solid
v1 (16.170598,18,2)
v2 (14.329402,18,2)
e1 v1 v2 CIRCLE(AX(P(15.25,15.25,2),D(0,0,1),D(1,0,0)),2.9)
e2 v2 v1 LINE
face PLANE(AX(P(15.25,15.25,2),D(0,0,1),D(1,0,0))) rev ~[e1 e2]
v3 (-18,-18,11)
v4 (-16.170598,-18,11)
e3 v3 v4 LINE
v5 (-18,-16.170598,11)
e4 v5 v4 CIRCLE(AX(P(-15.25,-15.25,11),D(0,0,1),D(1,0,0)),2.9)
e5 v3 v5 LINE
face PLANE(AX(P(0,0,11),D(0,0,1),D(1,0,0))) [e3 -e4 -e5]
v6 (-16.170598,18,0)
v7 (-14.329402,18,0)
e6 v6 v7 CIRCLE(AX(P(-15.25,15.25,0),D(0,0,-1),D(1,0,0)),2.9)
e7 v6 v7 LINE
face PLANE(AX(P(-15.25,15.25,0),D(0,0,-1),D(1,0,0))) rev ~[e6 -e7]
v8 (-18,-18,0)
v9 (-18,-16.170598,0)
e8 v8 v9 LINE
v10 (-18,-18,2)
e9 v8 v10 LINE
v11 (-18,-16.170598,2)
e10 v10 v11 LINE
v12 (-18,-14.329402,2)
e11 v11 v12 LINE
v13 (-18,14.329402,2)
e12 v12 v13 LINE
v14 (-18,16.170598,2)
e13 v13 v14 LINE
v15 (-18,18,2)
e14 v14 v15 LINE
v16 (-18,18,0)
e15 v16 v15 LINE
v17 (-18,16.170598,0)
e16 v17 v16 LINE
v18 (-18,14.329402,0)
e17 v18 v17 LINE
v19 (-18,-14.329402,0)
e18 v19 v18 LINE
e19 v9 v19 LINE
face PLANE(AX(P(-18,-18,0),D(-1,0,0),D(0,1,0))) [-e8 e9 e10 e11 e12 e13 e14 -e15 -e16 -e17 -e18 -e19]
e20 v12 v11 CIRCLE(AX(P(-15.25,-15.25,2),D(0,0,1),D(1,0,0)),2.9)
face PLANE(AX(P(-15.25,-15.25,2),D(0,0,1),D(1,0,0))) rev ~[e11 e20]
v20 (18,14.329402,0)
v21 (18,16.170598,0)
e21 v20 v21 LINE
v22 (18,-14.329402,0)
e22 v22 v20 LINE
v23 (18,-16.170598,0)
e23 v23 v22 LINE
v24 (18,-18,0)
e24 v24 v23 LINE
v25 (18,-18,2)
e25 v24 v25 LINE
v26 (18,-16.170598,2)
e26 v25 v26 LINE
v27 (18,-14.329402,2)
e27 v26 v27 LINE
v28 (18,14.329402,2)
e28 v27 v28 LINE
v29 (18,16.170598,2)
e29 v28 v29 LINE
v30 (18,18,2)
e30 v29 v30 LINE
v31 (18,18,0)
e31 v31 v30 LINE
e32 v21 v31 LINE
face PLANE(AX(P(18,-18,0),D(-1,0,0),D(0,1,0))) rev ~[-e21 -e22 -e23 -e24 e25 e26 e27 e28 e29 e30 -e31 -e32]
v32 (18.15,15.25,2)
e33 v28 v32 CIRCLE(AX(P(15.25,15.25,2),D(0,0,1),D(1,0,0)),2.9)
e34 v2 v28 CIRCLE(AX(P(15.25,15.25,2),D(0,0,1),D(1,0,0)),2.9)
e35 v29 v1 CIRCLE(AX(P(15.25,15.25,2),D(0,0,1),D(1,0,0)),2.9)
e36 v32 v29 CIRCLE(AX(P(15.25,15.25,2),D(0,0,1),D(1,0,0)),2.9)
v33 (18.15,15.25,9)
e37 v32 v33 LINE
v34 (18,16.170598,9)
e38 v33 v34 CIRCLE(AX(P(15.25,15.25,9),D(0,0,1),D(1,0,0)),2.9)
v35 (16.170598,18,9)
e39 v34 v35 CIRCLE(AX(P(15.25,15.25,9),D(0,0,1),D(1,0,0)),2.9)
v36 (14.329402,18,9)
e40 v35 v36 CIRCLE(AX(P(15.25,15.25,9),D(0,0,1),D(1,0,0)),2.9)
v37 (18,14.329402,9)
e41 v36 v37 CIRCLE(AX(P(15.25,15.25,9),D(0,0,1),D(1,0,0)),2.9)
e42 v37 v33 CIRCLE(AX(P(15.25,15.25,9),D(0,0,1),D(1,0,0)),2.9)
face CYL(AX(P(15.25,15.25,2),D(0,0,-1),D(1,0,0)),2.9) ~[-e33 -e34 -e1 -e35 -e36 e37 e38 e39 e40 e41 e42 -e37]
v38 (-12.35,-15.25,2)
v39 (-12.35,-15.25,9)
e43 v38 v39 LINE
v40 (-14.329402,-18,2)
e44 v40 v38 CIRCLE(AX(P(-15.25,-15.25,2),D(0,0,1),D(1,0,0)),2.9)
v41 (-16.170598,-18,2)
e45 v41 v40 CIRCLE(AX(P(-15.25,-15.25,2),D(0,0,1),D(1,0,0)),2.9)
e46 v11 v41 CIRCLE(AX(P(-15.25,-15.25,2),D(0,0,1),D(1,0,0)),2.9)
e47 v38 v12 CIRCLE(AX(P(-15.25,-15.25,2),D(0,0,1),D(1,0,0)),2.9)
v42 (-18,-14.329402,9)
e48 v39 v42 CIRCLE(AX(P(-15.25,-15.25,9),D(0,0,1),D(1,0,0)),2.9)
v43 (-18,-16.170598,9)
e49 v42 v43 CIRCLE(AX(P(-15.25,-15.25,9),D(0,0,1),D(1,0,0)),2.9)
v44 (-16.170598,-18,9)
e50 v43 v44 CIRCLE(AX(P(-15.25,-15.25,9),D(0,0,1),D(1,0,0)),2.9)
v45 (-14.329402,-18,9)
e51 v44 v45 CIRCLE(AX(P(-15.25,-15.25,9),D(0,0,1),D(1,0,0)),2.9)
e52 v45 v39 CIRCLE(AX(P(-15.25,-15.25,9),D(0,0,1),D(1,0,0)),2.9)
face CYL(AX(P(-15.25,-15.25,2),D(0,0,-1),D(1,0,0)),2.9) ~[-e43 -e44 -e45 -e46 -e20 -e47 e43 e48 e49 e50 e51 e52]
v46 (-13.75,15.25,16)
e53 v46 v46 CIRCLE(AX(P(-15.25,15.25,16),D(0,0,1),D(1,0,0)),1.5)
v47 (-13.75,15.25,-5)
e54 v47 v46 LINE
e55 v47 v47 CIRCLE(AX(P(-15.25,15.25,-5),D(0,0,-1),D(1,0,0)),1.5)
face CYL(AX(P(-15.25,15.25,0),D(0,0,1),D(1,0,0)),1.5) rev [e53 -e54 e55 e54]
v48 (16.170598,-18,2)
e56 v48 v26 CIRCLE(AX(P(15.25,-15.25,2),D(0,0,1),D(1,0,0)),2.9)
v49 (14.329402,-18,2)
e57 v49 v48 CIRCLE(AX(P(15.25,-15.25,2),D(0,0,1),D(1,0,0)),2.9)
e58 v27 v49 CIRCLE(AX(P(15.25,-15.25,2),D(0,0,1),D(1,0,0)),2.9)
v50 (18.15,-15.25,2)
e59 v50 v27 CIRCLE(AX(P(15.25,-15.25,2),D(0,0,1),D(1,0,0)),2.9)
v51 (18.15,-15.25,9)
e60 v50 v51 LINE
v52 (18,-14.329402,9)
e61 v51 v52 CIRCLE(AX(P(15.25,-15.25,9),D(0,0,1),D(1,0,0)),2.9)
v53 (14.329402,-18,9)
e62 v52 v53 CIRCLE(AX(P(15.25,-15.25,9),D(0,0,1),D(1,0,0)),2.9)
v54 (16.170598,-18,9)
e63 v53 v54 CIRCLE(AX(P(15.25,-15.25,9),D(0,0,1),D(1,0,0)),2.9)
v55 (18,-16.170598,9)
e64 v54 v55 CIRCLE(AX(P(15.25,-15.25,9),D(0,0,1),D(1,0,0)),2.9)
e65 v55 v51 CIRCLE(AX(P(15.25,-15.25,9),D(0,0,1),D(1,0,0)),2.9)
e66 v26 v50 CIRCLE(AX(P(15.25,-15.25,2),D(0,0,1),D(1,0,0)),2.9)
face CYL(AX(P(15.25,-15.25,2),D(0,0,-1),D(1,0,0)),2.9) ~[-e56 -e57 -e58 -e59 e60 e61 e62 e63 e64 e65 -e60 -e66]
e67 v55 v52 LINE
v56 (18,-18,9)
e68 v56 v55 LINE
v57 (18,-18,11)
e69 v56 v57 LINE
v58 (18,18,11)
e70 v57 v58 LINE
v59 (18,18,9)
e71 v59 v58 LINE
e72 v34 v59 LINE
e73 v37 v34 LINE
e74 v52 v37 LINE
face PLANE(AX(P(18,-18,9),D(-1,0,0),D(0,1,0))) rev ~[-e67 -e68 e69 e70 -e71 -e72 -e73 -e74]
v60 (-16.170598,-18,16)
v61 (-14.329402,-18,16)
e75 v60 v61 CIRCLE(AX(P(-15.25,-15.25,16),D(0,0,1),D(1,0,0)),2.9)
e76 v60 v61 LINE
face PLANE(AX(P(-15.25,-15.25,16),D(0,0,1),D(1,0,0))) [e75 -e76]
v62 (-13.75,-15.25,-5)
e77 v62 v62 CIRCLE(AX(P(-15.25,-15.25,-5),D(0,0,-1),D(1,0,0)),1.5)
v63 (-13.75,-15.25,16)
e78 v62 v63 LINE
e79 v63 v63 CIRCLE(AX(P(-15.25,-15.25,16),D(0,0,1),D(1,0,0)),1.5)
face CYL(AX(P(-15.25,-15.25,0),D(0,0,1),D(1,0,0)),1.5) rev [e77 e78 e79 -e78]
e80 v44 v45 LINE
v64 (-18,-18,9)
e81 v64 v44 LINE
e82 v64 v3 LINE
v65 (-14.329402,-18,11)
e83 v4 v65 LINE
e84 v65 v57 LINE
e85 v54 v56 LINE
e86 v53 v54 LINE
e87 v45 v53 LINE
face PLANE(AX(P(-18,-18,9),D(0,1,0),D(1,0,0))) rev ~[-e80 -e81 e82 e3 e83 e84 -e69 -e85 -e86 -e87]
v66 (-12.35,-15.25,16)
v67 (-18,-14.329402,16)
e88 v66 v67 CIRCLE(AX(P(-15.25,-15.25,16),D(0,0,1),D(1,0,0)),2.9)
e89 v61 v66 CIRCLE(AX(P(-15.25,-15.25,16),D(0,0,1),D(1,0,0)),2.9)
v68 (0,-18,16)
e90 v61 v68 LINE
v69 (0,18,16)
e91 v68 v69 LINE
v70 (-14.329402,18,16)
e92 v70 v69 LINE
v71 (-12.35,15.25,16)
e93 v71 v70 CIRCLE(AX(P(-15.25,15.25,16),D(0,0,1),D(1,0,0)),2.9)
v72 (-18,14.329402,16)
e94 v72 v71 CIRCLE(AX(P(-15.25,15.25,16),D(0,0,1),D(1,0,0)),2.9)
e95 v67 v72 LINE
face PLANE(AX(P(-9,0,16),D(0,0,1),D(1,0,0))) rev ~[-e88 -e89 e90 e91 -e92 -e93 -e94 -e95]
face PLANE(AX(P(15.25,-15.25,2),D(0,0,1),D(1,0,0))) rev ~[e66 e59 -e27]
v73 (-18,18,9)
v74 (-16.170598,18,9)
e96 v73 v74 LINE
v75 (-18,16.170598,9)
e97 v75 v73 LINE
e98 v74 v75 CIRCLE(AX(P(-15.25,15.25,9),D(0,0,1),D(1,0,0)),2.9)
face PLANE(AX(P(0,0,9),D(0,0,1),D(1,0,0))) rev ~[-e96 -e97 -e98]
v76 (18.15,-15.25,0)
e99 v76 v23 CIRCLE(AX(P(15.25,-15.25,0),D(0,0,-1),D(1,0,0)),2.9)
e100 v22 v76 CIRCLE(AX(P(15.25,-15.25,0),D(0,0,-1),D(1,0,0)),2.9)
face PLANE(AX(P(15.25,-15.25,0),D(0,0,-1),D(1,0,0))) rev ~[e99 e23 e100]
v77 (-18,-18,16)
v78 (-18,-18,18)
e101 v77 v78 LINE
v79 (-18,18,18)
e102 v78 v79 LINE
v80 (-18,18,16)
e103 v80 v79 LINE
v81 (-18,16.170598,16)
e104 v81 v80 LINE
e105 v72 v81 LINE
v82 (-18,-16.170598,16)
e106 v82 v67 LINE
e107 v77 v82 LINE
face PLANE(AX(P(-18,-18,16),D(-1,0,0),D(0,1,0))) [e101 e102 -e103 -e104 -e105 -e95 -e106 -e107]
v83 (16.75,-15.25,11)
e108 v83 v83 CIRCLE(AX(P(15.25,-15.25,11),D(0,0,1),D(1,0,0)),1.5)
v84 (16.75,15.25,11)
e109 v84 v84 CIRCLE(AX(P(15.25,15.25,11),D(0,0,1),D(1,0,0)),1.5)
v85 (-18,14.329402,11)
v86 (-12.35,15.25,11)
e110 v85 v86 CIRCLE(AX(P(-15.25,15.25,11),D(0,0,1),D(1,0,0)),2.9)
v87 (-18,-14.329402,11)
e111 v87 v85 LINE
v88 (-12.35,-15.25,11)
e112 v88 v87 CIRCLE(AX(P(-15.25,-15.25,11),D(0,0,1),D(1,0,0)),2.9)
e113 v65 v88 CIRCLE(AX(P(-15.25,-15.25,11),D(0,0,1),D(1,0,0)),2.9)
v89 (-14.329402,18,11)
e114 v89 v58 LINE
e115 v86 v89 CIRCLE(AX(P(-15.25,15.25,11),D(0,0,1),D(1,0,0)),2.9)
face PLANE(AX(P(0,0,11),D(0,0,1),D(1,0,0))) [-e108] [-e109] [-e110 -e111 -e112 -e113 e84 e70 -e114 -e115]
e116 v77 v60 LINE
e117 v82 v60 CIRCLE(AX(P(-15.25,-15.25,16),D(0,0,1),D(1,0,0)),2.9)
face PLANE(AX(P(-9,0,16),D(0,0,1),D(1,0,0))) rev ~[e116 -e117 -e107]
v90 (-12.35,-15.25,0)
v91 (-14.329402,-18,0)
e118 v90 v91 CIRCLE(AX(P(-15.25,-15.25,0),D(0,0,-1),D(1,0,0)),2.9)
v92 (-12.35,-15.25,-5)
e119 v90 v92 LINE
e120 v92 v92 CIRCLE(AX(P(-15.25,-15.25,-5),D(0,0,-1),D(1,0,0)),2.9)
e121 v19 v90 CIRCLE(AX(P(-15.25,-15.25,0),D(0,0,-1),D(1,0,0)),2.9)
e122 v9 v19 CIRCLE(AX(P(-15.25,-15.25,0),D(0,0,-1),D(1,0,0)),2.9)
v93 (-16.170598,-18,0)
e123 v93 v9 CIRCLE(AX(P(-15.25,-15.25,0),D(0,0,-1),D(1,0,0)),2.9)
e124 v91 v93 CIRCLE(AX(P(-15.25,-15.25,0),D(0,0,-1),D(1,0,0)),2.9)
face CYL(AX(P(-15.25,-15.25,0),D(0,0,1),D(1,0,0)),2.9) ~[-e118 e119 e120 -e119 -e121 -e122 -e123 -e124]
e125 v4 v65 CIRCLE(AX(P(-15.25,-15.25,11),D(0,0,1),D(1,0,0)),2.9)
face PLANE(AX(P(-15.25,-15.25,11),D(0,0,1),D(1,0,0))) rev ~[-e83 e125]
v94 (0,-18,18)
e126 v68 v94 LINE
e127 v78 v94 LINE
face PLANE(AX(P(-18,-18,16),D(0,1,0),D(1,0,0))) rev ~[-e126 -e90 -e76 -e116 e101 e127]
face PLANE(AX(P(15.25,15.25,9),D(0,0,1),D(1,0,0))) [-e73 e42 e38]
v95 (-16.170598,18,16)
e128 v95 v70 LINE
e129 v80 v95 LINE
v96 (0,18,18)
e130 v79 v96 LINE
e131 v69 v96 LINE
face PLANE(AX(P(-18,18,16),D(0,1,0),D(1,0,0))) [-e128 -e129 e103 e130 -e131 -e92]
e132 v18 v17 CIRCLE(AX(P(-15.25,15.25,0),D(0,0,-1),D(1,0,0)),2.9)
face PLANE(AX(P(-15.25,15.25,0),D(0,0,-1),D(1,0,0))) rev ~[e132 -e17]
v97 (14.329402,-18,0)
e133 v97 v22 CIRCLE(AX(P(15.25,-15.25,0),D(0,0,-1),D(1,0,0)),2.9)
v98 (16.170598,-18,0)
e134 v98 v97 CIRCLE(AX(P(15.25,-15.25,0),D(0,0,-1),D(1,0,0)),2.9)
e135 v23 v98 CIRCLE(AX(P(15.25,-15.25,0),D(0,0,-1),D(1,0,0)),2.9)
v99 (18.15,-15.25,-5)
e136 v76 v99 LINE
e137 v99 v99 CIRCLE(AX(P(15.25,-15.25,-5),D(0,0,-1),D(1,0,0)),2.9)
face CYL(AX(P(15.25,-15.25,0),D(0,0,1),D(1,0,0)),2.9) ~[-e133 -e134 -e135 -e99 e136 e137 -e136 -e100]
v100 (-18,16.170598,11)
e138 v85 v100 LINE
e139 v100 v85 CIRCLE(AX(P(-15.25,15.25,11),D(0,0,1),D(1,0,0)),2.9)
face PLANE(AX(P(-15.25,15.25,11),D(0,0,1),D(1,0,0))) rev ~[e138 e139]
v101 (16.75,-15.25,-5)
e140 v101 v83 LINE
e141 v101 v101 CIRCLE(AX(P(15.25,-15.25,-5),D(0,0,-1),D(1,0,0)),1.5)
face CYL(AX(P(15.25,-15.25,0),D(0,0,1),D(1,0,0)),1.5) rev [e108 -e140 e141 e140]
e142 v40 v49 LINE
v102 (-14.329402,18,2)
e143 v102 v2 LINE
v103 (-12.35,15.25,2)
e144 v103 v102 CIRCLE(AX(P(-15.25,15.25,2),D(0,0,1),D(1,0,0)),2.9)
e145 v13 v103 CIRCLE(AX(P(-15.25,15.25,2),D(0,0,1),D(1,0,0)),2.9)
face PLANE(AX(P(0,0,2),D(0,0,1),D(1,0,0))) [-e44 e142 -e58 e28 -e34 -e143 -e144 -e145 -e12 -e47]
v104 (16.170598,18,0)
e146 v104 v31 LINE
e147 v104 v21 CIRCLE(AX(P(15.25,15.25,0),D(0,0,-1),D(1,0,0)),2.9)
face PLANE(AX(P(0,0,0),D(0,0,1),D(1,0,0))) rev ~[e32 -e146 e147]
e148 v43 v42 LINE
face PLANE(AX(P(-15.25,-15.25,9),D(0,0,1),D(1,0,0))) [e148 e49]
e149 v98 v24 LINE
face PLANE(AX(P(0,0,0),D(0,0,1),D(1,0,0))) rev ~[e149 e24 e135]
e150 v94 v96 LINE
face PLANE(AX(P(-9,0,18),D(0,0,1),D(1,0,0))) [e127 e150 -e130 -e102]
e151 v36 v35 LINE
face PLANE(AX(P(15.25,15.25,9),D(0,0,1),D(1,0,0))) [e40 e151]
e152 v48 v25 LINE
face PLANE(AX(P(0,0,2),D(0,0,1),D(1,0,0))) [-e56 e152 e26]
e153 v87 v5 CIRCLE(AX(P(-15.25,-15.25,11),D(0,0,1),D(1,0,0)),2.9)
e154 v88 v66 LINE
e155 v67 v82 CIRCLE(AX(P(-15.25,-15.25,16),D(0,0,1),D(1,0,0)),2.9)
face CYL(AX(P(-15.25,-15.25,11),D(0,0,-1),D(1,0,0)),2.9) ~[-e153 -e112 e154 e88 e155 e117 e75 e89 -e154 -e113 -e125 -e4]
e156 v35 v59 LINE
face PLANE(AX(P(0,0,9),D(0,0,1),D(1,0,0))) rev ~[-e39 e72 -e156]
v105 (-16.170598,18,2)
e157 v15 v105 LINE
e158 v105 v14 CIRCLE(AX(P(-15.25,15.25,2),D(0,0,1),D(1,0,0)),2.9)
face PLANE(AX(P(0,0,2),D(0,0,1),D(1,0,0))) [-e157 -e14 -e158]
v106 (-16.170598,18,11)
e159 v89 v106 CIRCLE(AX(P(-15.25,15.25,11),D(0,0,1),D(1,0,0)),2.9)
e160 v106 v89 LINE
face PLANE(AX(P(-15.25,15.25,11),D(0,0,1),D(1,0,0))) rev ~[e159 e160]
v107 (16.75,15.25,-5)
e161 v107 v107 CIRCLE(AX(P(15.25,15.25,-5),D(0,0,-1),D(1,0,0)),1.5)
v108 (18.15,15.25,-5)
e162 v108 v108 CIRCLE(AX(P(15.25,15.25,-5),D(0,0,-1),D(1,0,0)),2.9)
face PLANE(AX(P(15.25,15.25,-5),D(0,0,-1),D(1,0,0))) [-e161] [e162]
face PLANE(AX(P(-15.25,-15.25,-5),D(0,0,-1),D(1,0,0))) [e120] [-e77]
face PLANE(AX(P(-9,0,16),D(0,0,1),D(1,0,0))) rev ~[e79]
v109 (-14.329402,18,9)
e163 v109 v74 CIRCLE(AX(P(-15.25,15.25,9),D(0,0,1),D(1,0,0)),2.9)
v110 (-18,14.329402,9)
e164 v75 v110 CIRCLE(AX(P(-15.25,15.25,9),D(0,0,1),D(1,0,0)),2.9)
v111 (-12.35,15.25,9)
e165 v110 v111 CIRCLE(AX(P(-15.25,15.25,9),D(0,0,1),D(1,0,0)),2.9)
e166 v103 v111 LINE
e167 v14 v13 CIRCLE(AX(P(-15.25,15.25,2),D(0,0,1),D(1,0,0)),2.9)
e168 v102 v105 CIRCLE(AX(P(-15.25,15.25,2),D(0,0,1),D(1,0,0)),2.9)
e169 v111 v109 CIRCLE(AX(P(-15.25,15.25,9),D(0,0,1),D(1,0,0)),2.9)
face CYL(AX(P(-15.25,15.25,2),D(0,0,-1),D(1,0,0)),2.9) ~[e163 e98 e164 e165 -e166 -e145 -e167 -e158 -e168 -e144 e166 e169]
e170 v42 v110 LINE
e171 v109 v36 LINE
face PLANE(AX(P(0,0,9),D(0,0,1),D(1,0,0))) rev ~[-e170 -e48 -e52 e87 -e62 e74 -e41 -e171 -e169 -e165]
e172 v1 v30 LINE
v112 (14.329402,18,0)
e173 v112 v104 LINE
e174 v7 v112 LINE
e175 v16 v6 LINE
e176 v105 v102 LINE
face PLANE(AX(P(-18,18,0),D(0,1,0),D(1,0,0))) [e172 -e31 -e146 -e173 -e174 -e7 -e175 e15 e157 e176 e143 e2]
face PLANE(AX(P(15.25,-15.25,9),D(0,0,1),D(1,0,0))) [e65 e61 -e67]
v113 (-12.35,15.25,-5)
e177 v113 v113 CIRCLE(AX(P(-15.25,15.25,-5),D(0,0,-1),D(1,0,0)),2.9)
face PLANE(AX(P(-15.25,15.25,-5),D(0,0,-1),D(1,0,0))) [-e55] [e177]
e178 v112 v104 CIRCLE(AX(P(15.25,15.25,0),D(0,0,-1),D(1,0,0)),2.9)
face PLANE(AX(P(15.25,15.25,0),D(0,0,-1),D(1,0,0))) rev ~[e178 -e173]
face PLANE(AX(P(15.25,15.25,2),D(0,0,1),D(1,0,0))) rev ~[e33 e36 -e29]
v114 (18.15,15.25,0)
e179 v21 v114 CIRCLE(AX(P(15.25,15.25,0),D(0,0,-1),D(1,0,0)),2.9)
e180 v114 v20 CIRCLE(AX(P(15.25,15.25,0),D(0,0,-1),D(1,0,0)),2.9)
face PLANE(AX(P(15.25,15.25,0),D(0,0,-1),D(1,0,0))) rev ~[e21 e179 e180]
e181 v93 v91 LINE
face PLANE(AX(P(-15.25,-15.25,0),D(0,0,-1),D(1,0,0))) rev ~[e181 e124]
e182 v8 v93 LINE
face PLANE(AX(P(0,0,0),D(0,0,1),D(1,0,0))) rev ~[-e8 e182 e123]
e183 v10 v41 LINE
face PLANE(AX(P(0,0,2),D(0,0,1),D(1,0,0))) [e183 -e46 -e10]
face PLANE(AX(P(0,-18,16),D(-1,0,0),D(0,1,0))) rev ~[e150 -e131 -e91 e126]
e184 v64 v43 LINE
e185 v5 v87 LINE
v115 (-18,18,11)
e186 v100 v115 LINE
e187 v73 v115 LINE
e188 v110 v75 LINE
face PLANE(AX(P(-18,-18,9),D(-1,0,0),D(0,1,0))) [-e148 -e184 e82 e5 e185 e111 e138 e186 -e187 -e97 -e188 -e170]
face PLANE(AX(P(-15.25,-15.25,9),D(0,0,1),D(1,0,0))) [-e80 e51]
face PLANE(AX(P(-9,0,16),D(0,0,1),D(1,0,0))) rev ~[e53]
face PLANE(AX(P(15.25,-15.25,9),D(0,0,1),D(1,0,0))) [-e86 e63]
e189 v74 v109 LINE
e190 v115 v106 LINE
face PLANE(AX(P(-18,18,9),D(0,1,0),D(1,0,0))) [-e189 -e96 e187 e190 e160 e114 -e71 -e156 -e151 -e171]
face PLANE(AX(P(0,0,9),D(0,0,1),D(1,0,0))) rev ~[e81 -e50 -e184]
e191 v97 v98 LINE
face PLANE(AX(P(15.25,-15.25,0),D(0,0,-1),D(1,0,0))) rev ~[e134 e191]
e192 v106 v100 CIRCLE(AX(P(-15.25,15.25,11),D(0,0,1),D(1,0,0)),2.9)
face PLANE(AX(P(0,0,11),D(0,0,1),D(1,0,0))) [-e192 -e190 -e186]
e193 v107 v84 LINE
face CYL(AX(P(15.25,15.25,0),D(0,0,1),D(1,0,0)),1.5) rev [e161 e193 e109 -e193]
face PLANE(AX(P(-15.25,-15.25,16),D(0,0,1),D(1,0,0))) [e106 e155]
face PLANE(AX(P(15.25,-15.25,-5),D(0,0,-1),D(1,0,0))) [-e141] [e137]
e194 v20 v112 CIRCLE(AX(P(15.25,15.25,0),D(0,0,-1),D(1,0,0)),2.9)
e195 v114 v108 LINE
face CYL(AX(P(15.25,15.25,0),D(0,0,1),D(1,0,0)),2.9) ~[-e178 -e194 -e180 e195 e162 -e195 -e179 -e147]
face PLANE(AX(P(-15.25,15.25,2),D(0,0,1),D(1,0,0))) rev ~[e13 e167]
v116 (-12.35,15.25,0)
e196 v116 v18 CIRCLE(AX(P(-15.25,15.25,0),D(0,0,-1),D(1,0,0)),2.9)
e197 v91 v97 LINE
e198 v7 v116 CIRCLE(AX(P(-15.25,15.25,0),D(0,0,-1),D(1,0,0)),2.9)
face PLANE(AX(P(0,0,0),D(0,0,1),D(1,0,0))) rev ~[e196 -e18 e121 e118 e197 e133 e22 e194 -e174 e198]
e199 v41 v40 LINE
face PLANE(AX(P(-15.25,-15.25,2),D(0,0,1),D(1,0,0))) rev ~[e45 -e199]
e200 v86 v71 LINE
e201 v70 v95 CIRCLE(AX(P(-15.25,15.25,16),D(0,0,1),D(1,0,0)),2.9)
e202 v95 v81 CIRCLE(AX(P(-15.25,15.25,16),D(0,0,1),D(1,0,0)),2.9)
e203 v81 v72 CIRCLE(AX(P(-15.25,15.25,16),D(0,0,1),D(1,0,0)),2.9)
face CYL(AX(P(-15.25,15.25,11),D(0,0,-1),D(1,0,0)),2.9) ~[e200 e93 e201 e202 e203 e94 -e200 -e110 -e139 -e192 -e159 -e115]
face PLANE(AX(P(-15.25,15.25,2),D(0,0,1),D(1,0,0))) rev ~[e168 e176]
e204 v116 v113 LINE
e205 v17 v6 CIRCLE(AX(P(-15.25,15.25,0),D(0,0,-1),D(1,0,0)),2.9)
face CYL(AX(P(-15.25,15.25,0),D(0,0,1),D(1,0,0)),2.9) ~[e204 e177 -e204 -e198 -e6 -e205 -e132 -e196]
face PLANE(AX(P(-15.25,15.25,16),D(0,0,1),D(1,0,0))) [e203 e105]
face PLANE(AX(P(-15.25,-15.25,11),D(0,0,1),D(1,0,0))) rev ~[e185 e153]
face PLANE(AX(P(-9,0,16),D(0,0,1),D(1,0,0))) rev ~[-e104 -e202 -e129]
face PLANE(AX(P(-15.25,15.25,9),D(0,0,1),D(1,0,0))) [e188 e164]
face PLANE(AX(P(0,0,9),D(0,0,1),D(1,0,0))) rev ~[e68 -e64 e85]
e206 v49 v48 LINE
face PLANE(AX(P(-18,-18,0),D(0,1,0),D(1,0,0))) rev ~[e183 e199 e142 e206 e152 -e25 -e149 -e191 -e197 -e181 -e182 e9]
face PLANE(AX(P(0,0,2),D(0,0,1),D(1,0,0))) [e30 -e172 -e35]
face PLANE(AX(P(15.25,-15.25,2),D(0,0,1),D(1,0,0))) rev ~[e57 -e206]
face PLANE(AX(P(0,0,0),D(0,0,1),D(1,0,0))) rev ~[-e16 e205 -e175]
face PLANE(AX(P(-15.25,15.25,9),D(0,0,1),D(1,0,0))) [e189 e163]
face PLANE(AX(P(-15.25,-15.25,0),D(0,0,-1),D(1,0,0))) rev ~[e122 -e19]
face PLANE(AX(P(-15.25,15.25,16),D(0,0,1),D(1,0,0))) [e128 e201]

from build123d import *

# Parameters (mm, degrees)
SKETCH_W      = 36
SKETCH_H      = 36
SKETCH_R      = 1.5
PAD_DEPTH     = 2
SKETCH001_R   = 2.9
SKETCH001_R_2 = 1.5
PAD001_DEPTH  = 7
SKETCH002_W   = 36
SKETCH002_H   = 36
SKETCH002_R   = 1.5
PAD002_DEPTH  = 2
SKETCH003_R   = 2.9
SKETCH003_R_2 = 1.5
PAD003_DEPTH  = 5
SKETCH004_W   = 18
SKETCH004_H   = 36
PAD004_DEPTH  = 2
SKETCH005_R   = 2.9
SKETCH005_R_2 = 1.5
PAD005_DEPTH  = 5


with BuildPart() as part:
    # Sketch → Pad (new body)
    with BuildSketch(Plane.XY):
        Rectangle(SKETCH_W, SKETCH_H)
        with Locations((-15.25, -15.25)):
            Circle(SKETCH_R, mode=Mode.SUBTRACT)
        with Locations((15.25, -15.25)):
            Circle(SKETCH_R, mode=Mode.SUBTRACT)
        with Locations((-15.25, 15.25)):
            Circle(SKETCH_R, mode=Mode.SUBTRACT)
        with Locations((15.25, 15.25)):
            Circle(SKETCH_R, mode=Mode.SUBTRACT)
    extrude(amount=PAD_DEPTH)

    # Sketch001 (on Face10 of Pad) → Pad001 (join)
    with BuildSketch(Plane.XY.offset(2)):
        with Locations((-15.25, 15.25)):
            Circle(SKETCH001_R)
        with Locations((-15.25, 15.25)):
            Circle(SKETCH001_R_2, mode=Mode.SUBTRACT)
        with Locations((-15.25, -15.25)):
            Circle(SKETCH001_R)
        with Locations((-15.25, -15.25)):
            Circle(SKETCH001_R_2, mode=Mode.SUBTRACT)
        with Locations((15.25, -15.25)):
            Circle(SKETCH001_R)
        with Locations((15.25, -15.25)):
            Circle(SKETCH001_R_2, mode=Mode.SUBTRACT)
        with Locations((15.25, 15.25)):
            Circle(SKETCH001_R)
        with Locations((15.25, 15.25)):
            Circle(SKETCH001_R_2, mode=Mode.SUBTRACT)
    extrude(amount=PAD001_DEPTH)

    # Sketch002 (on Face31 of Pad001) → Pad002 (join)
    with BuildSketch(Plane.XY.offset(9)):
        Rectangle(SKETCH002_W, SKETCH002_H)
        with Locations((-15.25, 15.25)):
            Circle(SKETCH002_R, mode=Mode.SUBTRACT)
        with Locations((15.25, 15.25)):
            Circle(SKETCH002_R, mode=Mode.SUBTRACT)
        with Locations((15.25, -15.25)):
            Circle(SKETCH002_R, mode=Mode.SUBTRACT)
        with Locations((-15.25, -15.25)):
            Circle(SKETCH002_R, mode=Mode.SUBTRACT)
    extrude(amount=PAD002_DEPTH)

    # Sketch003 (on Face52 of Pad002) → Pad003 (join)
    with BuildSketch(Plane.XY.offset(11)):
        with Locations((-15.25, 15.25)):
            Circle(SKETCH003_R)
        with Locations((-15.25, 15.25)):
            Circle(SKETCH003_R_2, mode=Mode.SUBTRACT)
        with Locations((-15.25, -15.25)):
            Circle(SKETCH003_R)
        with Locations((-15.25, -15.25)):
            Circle(SKETCH003_R_2, mode=Mode.SUBTRACT)
    extrude(amount=PAD003_DEPTH)

    # Sketch004 (on Face63 of Pad003) → Pad004 (join)
    with BuildSketch(Plane.XY.offset(16)):
        with Locations((-9, 0)):
            Rectangle(SKETCH004_W, SKETCH004_H)
    extrude(amount=PAD004_DEPTH)

    # Sketch005 (on Face4 of Pad004) → Pad005 (join)
    with BuildSketch(Plane(origin=(0, 0, 0), x_dir=(1, 0, 0), z_dir=(0, 0, -1))):
        with Locations((-15.25, 15.25)):
            Circle(SKETCH005_R)
        with Locations((-15.25, 15.25)):
            Circle(SKETCH005_R_2, mode=Mode.SUBTRACT)
        with Locations((-15.25, -15.25)):
            Circle(SKETCH005_R)
        with Locations((-15.25, -15.25)):
            Circle(SKETCH005_R_2, mode=Mode.SUBTRACT)
        with Locations((15.25, -15.25)):
            Circle(SKETCH005_R)
        with Locations((15.25, -15.25)):
            Circle(SKETCH005_R_2, mode=Mode.SUBTRACT)
        with Locations((15.25, 15.25)):
            Circle(SKETCH005_R)
        with Locations((15.25, 15.25)):
            Circle(SKETCH005_R_2, mode=Mode.SUBTRACT)
    extrude(amount=PAD005_DEPTH)


solid = part.part
